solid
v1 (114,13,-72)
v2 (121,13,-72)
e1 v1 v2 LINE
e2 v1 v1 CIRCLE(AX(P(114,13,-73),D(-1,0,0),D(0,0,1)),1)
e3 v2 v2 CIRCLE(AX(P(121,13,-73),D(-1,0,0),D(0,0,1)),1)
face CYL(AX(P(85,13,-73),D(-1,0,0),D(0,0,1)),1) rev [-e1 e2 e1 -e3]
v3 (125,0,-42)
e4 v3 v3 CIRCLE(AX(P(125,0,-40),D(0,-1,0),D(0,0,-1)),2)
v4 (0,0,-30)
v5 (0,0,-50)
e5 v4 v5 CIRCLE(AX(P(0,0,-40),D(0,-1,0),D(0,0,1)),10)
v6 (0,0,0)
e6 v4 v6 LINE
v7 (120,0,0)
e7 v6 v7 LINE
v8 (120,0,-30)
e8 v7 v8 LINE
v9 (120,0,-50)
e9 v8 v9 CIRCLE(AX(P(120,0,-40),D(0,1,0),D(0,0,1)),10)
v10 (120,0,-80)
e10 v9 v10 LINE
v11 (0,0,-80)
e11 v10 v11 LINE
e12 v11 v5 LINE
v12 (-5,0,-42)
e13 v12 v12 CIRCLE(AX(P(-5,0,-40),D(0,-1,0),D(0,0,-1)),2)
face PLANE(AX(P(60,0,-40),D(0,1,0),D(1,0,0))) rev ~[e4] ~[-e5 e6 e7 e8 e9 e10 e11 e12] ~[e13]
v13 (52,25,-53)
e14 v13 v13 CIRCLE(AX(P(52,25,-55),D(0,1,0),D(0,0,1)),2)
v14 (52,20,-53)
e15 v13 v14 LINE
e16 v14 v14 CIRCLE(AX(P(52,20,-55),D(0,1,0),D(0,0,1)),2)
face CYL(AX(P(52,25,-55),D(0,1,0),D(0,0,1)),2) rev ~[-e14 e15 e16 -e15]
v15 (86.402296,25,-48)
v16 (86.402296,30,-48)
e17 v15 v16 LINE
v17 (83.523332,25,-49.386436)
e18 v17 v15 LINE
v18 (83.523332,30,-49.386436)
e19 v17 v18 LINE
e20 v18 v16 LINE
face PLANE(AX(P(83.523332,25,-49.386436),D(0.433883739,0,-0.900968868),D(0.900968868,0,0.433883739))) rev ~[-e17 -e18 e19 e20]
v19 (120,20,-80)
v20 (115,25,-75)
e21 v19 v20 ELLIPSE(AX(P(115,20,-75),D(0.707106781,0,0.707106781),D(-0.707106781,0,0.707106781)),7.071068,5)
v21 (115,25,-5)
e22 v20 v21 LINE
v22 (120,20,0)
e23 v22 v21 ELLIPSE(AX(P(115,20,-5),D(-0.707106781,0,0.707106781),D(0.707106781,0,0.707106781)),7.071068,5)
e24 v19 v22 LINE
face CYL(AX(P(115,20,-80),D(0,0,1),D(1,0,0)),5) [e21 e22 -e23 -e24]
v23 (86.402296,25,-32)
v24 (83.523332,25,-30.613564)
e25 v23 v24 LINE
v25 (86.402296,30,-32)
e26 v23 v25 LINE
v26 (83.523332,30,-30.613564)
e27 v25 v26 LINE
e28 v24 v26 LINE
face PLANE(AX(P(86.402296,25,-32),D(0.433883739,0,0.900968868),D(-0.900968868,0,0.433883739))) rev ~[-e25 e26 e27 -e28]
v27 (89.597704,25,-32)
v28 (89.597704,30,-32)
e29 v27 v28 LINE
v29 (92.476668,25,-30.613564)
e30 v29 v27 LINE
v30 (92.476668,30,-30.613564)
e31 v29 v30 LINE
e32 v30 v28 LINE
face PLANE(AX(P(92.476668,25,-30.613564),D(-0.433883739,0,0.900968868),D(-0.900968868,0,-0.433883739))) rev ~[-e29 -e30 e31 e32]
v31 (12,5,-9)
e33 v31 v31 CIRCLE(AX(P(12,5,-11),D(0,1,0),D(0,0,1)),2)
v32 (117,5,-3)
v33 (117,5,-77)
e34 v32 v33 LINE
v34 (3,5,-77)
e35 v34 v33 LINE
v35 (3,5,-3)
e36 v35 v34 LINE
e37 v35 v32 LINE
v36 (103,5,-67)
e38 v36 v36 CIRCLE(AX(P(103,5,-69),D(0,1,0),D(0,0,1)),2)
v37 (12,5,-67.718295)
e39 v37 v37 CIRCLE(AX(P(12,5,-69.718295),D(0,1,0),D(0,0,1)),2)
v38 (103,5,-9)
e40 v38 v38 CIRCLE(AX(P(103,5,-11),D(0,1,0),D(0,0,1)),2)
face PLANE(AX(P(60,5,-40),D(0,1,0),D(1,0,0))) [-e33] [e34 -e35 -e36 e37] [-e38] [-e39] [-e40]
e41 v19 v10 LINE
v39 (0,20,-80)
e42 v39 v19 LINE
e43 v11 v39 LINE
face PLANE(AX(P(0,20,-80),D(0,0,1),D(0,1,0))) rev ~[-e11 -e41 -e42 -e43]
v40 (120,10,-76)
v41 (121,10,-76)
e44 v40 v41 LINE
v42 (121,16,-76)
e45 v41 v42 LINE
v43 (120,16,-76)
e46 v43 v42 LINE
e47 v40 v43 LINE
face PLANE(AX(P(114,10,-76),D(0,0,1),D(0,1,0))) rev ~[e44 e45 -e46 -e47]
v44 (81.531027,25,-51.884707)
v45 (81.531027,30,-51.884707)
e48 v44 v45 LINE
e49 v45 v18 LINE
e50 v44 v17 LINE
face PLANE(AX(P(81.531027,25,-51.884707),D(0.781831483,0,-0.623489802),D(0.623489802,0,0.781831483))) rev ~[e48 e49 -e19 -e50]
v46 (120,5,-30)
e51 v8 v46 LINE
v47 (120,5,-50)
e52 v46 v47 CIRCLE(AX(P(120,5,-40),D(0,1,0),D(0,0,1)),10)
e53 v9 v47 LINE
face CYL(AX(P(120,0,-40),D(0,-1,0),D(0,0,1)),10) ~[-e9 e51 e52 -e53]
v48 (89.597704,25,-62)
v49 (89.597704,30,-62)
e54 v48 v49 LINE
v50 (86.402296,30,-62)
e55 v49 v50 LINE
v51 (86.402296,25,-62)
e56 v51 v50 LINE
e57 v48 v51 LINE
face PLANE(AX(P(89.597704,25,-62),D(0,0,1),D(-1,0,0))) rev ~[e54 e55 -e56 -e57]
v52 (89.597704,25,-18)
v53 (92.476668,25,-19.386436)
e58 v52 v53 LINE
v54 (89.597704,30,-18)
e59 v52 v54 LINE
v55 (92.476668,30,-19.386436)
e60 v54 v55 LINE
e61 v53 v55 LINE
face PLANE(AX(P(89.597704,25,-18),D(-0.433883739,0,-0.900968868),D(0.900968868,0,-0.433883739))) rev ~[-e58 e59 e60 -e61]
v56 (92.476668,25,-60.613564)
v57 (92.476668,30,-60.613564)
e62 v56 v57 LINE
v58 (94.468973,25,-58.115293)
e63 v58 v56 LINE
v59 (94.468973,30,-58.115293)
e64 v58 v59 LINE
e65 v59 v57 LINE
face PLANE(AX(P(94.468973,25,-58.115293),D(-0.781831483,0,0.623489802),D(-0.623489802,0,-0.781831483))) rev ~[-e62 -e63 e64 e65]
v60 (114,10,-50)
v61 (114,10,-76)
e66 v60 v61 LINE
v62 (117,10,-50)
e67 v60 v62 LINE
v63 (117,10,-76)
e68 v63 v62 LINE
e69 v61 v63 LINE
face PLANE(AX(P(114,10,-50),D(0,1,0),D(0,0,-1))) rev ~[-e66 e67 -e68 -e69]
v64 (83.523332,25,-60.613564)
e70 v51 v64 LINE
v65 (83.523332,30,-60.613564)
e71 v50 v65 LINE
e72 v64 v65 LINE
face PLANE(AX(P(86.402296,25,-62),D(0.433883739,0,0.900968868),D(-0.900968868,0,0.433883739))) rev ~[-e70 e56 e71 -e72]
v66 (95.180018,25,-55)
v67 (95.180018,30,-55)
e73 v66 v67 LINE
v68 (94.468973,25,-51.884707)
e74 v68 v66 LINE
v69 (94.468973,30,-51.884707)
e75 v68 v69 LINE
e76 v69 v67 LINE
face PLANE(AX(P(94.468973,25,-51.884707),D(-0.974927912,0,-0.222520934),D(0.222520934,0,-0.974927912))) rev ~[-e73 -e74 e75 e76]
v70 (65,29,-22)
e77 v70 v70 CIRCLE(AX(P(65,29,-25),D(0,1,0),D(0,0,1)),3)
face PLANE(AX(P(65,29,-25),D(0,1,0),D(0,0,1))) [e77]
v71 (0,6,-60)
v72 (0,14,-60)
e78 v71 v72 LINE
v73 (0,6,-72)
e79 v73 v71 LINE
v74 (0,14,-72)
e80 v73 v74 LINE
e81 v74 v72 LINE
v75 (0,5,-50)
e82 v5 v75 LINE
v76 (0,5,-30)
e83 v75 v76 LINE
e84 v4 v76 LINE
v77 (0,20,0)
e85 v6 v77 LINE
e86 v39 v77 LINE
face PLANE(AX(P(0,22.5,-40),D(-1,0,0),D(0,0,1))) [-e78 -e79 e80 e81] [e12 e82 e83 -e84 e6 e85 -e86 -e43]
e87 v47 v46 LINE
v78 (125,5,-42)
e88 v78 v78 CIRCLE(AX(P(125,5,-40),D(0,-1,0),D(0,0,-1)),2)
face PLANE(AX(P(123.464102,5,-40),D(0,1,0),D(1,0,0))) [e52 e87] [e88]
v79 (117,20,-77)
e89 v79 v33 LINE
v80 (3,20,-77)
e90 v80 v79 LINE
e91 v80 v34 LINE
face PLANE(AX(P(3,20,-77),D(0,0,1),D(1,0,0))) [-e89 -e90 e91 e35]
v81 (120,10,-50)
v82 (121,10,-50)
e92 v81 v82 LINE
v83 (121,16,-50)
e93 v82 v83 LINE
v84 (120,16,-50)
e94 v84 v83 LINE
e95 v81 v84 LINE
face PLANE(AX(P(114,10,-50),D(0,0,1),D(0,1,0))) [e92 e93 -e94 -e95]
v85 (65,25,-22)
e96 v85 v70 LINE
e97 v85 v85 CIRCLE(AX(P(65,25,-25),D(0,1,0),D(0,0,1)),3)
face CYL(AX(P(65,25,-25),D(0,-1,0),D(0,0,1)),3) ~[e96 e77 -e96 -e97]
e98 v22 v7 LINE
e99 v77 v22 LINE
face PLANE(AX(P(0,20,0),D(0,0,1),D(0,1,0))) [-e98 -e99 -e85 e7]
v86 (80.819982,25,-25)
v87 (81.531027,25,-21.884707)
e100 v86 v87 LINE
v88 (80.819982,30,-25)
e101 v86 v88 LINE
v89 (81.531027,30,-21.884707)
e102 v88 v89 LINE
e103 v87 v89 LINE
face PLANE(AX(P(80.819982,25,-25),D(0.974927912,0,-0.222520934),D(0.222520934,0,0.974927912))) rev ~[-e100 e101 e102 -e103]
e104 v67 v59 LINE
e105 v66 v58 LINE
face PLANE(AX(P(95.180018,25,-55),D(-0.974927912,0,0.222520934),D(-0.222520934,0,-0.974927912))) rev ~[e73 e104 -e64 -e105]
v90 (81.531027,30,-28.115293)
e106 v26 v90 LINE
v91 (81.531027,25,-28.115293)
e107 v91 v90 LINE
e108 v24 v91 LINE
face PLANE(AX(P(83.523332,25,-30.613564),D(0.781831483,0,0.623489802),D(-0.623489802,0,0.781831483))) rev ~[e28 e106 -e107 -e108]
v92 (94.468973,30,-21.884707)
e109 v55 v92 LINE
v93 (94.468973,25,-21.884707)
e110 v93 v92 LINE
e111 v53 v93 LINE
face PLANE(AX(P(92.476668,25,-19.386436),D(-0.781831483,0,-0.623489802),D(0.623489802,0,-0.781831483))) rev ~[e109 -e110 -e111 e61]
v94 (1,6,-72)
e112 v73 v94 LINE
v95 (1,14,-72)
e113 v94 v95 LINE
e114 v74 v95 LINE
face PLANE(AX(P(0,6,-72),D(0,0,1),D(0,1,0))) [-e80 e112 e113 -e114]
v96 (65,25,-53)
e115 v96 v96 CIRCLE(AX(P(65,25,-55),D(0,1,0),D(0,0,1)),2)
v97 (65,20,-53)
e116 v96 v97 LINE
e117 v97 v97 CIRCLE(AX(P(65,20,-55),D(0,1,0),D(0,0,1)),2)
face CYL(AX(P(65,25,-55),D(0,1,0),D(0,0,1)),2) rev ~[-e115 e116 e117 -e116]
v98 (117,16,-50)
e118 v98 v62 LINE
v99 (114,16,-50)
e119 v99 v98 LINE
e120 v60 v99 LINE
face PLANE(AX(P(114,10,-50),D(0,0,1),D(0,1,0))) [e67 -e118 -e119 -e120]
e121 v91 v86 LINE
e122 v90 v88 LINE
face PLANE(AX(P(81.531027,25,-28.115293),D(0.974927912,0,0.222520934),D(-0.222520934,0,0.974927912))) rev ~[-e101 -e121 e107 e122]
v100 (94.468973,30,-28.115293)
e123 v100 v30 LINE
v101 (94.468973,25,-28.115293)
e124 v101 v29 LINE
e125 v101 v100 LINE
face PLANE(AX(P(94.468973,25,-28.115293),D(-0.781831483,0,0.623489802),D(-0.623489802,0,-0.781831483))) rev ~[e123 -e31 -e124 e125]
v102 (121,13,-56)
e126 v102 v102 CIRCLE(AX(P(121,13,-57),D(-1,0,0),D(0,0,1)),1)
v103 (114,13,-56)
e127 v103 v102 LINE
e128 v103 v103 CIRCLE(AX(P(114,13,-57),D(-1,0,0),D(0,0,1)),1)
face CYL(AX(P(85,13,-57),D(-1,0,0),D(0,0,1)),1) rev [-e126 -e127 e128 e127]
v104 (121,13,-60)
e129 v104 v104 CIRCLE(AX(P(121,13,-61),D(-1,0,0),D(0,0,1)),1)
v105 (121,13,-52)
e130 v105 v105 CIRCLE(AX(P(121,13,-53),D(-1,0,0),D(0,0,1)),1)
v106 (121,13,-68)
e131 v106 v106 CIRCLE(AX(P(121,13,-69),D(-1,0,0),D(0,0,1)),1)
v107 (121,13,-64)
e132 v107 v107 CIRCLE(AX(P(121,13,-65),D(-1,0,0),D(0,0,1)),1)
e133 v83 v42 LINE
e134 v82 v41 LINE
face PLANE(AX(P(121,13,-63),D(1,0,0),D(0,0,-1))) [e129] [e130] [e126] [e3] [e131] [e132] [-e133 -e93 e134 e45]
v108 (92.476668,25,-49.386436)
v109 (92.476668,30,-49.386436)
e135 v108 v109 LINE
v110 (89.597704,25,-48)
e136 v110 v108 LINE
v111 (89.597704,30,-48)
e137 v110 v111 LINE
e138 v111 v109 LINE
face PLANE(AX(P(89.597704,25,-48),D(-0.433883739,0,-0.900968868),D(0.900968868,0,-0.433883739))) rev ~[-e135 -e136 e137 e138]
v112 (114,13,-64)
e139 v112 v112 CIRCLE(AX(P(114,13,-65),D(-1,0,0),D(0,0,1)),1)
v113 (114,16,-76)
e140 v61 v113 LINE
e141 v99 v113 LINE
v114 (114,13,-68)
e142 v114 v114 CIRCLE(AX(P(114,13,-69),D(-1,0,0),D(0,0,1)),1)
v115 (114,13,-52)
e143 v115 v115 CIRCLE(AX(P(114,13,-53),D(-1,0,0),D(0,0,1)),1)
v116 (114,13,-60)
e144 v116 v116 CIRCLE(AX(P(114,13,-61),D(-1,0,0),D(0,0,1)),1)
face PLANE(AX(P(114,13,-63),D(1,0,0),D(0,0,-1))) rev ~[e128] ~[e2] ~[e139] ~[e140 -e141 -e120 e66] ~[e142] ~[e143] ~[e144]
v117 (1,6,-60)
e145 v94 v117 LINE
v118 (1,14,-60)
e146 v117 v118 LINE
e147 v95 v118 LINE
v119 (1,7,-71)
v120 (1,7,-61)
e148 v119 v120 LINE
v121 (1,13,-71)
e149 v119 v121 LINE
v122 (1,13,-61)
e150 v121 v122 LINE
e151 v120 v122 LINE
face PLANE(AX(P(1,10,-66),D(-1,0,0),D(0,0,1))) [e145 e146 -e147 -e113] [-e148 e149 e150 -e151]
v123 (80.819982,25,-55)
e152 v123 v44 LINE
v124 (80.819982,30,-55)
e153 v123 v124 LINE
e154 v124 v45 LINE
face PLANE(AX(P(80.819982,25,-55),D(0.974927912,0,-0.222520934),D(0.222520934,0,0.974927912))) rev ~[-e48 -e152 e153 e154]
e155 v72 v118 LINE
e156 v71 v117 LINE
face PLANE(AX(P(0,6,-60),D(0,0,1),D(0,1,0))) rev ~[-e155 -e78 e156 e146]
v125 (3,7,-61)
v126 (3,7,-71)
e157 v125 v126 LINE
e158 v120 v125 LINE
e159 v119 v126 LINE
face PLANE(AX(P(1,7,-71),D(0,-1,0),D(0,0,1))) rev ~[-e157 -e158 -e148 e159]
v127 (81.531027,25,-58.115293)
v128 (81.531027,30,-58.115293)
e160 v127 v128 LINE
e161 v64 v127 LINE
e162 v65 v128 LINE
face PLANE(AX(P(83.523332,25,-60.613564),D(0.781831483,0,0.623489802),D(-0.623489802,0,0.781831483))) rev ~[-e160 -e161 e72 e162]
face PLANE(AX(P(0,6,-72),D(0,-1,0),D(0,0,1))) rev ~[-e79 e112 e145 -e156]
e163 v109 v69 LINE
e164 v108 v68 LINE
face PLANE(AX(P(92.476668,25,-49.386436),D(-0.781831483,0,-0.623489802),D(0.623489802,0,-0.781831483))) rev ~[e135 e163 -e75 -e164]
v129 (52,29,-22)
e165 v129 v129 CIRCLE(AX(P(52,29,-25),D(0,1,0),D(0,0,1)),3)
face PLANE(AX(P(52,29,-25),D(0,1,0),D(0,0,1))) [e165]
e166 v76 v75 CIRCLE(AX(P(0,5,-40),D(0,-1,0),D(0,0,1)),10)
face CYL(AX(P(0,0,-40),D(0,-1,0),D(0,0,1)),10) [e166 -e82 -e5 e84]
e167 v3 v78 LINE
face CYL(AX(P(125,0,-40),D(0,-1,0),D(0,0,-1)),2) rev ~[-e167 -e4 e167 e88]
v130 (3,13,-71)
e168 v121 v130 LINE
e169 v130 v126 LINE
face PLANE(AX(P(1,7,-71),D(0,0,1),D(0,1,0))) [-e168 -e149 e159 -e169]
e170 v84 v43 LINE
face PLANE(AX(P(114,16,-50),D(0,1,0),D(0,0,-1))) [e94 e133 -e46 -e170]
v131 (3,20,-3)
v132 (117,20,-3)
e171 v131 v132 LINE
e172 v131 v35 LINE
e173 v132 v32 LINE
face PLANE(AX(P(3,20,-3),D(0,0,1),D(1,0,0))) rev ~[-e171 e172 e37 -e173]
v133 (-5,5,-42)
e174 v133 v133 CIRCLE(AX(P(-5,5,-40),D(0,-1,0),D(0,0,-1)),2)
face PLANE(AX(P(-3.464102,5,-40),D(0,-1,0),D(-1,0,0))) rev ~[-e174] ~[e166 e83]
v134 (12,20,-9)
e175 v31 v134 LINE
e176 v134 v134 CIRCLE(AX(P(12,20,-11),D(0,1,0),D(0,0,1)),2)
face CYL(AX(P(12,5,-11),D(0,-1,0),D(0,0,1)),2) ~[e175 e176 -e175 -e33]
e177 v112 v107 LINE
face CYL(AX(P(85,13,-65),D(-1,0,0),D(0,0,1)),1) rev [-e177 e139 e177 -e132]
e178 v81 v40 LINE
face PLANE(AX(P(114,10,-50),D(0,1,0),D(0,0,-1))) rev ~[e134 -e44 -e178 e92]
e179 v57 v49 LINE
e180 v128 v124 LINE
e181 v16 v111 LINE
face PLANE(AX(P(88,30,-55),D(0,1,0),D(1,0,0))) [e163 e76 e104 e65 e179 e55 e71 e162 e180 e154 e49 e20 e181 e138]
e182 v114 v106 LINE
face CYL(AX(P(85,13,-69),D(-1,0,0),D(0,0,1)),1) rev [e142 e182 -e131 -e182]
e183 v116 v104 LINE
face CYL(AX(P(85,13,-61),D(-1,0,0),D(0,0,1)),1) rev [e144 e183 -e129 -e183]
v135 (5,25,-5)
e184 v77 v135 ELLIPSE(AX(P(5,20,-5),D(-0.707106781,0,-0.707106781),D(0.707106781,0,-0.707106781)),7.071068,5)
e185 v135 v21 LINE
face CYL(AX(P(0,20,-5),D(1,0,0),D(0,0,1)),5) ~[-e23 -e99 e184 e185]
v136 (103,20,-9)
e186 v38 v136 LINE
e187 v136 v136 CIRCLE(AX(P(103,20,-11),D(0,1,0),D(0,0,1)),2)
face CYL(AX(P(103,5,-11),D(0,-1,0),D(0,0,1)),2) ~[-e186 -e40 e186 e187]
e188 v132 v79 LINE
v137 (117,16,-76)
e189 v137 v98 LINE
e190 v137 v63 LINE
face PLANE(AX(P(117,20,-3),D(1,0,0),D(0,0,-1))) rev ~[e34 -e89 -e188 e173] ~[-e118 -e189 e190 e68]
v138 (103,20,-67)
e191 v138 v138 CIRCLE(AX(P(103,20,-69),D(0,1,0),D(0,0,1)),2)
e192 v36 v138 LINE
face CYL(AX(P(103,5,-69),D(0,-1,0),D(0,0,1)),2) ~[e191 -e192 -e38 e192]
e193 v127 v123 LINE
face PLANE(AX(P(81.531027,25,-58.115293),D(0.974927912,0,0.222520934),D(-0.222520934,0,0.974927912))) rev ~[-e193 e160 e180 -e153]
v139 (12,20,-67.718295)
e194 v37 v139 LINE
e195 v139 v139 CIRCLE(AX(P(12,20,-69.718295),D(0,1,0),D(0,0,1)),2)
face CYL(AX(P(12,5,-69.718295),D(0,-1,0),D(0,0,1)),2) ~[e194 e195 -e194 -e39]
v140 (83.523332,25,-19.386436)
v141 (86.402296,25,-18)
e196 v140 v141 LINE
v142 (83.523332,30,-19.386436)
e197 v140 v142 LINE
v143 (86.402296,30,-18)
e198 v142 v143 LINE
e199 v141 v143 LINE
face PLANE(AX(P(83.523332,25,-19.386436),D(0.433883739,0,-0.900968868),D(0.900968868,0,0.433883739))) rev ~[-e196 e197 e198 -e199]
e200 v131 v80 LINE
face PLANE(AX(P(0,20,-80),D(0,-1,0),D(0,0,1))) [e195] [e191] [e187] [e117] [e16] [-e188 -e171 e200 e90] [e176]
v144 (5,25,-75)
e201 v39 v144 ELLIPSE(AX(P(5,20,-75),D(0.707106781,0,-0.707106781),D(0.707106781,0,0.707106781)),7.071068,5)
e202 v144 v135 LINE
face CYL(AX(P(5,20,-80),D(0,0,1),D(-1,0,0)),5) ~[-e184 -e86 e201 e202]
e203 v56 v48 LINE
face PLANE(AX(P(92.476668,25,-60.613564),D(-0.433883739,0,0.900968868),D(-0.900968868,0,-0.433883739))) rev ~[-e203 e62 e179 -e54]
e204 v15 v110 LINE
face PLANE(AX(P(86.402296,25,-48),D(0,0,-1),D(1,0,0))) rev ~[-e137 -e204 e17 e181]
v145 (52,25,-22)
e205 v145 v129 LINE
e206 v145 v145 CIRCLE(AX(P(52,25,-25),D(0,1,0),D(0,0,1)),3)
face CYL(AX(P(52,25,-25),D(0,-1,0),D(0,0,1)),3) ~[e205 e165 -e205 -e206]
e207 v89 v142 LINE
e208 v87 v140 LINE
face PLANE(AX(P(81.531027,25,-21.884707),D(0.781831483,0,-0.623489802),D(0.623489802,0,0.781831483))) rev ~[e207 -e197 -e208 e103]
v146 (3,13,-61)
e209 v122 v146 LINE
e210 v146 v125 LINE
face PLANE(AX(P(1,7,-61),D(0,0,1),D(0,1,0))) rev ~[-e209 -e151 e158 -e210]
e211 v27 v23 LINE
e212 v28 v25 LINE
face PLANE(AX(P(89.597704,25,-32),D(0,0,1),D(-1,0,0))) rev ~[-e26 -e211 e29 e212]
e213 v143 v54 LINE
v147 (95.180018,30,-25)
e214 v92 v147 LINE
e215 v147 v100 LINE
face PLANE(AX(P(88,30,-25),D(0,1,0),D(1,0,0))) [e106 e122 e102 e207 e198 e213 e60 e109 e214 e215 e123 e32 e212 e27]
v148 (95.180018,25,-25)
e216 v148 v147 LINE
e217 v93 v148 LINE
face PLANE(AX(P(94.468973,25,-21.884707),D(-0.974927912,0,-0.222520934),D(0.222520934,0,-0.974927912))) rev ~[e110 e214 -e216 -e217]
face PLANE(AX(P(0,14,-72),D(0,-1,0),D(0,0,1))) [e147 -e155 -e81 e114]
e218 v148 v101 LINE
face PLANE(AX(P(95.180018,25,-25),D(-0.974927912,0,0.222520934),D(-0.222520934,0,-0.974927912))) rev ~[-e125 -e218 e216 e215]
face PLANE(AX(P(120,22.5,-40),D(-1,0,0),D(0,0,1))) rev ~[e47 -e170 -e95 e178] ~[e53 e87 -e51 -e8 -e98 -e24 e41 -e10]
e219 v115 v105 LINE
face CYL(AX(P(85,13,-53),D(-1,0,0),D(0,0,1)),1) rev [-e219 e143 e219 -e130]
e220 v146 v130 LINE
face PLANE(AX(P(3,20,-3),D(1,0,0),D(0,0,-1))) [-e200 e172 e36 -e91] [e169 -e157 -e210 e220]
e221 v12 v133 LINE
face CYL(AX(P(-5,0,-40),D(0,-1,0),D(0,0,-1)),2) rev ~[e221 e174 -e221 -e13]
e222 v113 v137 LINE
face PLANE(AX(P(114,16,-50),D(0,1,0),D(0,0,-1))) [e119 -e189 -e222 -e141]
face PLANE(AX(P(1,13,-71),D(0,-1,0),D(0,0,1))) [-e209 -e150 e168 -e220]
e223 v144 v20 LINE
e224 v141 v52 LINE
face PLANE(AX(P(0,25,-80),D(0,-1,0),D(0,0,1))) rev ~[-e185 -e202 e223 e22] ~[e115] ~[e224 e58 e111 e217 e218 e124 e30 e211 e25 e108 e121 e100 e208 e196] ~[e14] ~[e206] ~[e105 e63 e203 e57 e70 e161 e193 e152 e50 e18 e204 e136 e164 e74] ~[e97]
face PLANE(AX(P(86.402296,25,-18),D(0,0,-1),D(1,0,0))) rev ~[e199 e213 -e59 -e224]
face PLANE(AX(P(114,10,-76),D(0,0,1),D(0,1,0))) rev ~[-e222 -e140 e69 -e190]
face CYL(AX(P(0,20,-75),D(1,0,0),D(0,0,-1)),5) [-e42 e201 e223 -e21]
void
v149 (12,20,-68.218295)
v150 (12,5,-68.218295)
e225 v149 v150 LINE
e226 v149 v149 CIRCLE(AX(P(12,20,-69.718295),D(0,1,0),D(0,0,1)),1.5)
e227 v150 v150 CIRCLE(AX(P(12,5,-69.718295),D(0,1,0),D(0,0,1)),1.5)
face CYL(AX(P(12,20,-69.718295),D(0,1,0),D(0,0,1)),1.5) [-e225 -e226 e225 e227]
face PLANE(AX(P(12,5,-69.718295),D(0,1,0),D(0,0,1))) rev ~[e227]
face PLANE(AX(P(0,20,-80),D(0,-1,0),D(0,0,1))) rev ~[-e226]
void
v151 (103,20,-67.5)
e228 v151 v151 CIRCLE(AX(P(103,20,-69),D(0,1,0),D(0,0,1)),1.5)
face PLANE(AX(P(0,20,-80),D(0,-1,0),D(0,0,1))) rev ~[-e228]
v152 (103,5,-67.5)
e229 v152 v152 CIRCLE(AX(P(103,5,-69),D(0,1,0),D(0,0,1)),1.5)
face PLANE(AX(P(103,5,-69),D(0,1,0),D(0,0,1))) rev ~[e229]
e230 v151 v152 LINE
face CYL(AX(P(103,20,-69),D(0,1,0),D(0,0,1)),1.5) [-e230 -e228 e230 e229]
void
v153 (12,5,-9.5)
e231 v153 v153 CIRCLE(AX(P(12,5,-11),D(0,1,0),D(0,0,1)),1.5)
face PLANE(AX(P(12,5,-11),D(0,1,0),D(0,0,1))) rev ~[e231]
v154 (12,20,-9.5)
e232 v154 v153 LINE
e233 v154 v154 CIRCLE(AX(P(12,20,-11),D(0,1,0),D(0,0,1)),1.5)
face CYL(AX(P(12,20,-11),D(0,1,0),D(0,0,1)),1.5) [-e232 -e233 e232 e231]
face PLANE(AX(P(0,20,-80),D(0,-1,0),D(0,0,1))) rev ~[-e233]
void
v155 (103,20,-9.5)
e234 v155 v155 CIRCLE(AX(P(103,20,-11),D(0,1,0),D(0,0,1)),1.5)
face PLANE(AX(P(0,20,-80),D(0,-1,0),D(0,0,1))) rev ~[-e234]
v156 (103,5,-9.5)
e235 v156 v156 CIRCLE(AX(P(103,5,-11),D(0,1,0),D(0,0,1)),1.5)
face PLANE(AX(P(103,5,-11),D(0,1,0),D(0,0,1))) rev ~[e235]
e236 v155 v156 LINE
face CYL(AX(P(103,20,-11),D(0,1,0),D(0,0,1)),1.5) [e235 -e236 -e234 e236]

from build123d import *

# Parameters (mm, degrees)
BOSS_EXTRUDE2_DEPTH      = 20
CUT_EXTRUDE1_START       = -15
CUT_EXTRUDE1_DEPTH       = 15
SKETCH4_W                = 114
SKETCH4_H                = 74
CUT_EXTRUDE2_DEPTH       = 15
SKETCH5_R                = 2
CUT_EXTRUDE3_DEPTH       = 154.948043183
BOSS_EXTRUDE3_DEPTH      = 1
BOSS_EXTRUDE3_DEPTH_BACK = 6
SKETCH8_W                = 26
SKETCH8_H                = 6
CUT_EXTRUDE4_DEPTH       = 2
CUT_EXTRUDE4_DEPTH_BACK  = 35
SKETCH6_R                = 1
SKETCH10_R               = 2
BOSS_EXTRUDE4_DEPTH      = 15
SKETCH11_R               = 1.5
CUT_EXTRUDE5_DEPTH       = 15
SKETCH12_W               = 80
SKETCH12_H               = 5
BOSS_EXTRUDE5_DEPTH      = 120
FILLET1_R                = 5
BOSS_EXTRUDE6_DEPTH      = 5
SKETCH14_R               = 3
BOSS_EXTRUDE7_DEPTH      = 4
SKETCH15_R               = 2
CUT_EXTRUDE6_DEPTH       = 10
SKETCH16_W               = 12
SKETCH16_H               = 8
CUT_EXTRUDE7_DEPTH       = 1
SKETCH17_W               = 10
SKETCH17_H               = 6
CUT_EXTRUDE8_DEPTH       = 4


with BuildPart() as part:
    # Sketch2 → Boss-Extrude2 (new body)
    with BuildSketch(Plane(origin=(0, 0, 0), x_dir=(1, 0, 0), z_dir=(0, 1, 0))):
        Polygon((0, 80), (0, 50), (0, 30), (0, 0), (120, 0), (120, 30), (120, 50), (120, 80), align=None)
        with BuildLine():
            ThreePointArc((0, 30), (-10, 40), (0, 50))
            Line((0, 50), (0, 30))
        make_face()
        with BuildLine():
            ThreePointArc((120, 30), (130, 40), (120, 50))
            Line((120, 50), (120, 30))
        make_face()
    extrude(amount=BOSS_EXTRUDE2_DEPTH)

    # Sketch3 → Cut-Extrude1 (cut)
    with BuildSketch(Plane(origin=(0, 20, 0), x_dir=(1, 0, 0), z_dir=(0, 1, 0)).offset(CUT_EXTRUDE1_START)):
        with BuildLine():
            Line((0, 50), (0, 30))
            ThreePointArc((0, 30), (-10, 40), (0, 50))
        make_face()
        with BuildLine():
            Line((120, 50), (120, 30))
            ThreePointArc((120, 30), (130, 40), (120, 50))
        make_face()
    extrude(amount=CUT_EXTRUDE1_DEPTH, mode=Mode.SUBTRACT)

    # Sketch4 → Cut-Extrude2 (cut)
    with BuildSketch(Plane(origin=(0, 20, 0), x_dir=(1, 0, 0), z_dir=(0, 1, 0))):
        with Locations((60, 40)):
            Rectangle(SKETCH4_W, SKETCH4_H)
    extrude(amount=-CUT_EXTRUDE2_DEPTH, mode=Mode.SUBTRACT)

    # Sketch5 → Cut-Extrude3 (cut, through all)
    with BuildSketch(Plane.XZ):
        with Locations(Location((-5, -40, 0), (0, 0, 270))):
            Circle(SKETCH5_R)
        with Locations(Location((125, -40, 0), (0, 0, 270))):
            Circle(SKETCH5_R)
    extrude(amount=-CUT_EXTRUDE3_DEPTH, mode=Mode.SUBTRACT)

    # Sketch8 → Boss-Extrude3 (add, two sides: drawn at the far end of the back side and taken through both)
    with BuildSketch(Plane(origin=(120, 0, 0), x_dir=(0, 0, -1), z_dir=(1, 0, 0)).offset(-BOSS_EXTRUDE3_DEPTH_BACK)):
        with Locations((63, 13)):
            Rectangle(SKETCH8_W, SKETCH8_H)
    extrude(amount=BOSS_EXTRUDE3_DEPTH + BOSS_EXTRUDE3_DEPTH_BACK)

    # Sketch6 → Cut-Extrude4 (cut, two sides: drawn at the far end of the back side and taken through both)
    with BuildSketch(Plane(origin=(120, 0, 0), x_dir=(0, 0, -1), z_dir=(1, 0, 0)).offset(-CUT_EXTRUDE4_DEPTH_BACK)):
        with Locations(Location((73, 13, 0), (0, 0, 180))):
            Circle(SKETCH6_R)
        with Locations(Location((57, 13, 0), (0, 0, 180))):
            Circle(SKETCH6_R)
        with Locations(Location((53, 13, 0), (0, 0, 180))):
            Circle(SKETCH6_R)
        with Locations(Location((65, 13, 0), (0, 0, 180))):
            Circle(SKETCH6_R)
        with Locations(Location((61, 13, 0), (0, 0, 180))):
            Circle(SKETCH6_R)
        with Locations(Location((69, 13, 0), (0, 0, 180))):
            Circle(SKETCH6_R)
    extrude(amount=CUT_EXTRUDE4_DEPTH + CUT_EXTRUDE4_DEPTH_BACK, mode=Mode.SUBTRACT)

    # Sketch10 → Boss-Extrude4 (add)
    with BuildSketch(Plane(origin=(0, 5, 0), x_dir=(1, 0, 0), z_dir=(0, 1, 0))):
        with Locations(Location((12, 69.718295326, 0), (0, 0, 270))):
            Circle(SKETCH10_R)
        with Locations(Location((12, 11, 0), (0, 0, 270))):
            Circle(SKETCH10_R)
        with Locations(Location((103, 69, 0), (0, 0, 270))):
            Circle(SKETCH10_R)
        with Locations(Location((103, 11, 0), (0, 0, 270))):
            Circle(SKETCH10_R)
    extrude(amount=BOSS_EXTRUDE4_DEPTH)

    # Sketch11 → Cut-Extrude5 (cut)
    with BuildSketch(Plane(origin=(0, 20, 0), x_dir=(1, 0, 0), z_dir=(0, 1, 0))):
        with Locations(Location((12, 69.718295326, 0), (0, 0, 270))):
            Circle(SKETCH11_R)
        with Locations(Location((103, 69, 0), (0, 0, 270))):
            Circle(SKETCH11_R)
        with Locations(Location((12, 11, 0), (0, 0, 270))):
            Circle(SKETCH11_R)
        with Locations(Location((103, 11, 0), (0, 0, 270))):
            Circle(SKETCH11_R)
    extrude(amount=-CUT_EXTRUDE5_DEPTH, mode=Mode.SUBTRACT)

    # Sketch12 → Boss-Extrude5 (add)
    with BuildSketch(Plane.ZY):
        with Locations((-40, 22.5)):
            Rectangle(SKETCH12_W, SKETCH12_H)
    extrude(amount=-BOSS_EXTRUDE5_DEPTH)

    # Fillet1
    fillet1_edges = [part.edges().sort_by_distance(p)[0] for p in [
        (120, 25, -40),
        (60, 25, -80),
        (60, 25, 0),
        (0, 25, -40),
    ]]
    fillet(fillet1_edges, radius=FILLET1_R)

    # Sketch13 → Boss-Extrude6 (add)
    with BuildSketch(Plane(origin=(0, 25, 0), x_dir=(1, 0, 0), z_dir=(0, 1, 0))):
        Polygon((81.531027272, 58.115293075), (80.819981957, 55), (81.531027272, 51.884706925), (83.523331973, 49.386435849), (86.402295679, 48), (89.597704321, 48), (92.476668027, 49.386435849), (94.468972728, 51.884706925), (95.180018043, 55), (94.468972728, 58.115293075), (92.476668027, 60.613564151), (89.597704321, 62), (86.402295679, 62), (83.523331973, 60.613564151), align=None)
        Polygon((95.180018043, 25), (94.468972728, 28.115293075), (92.476668027, 30.613564151), (89.597704321, 32), (86.402295679, 32), (83.523331973, 30.613564151), (81.531027272, 28.115293075), (80.819981957, 25), (81.531027272, 21.884706925), (83.523331973, 19.386435849), (86.402295679, 18), (89.597704321, 18), (92.476668027, 19.386435849), (94.468972728, 21.884706925), align=None)
    extrude(amount=BOSS_EXTRUDE6_DEPTH)

    # Sketch14 → Boss-Extrude7 (add)
    with BuildSketch(Plane(origin=(0, 25, 0), x_dir=(1, 0, 0), z_dir=(0, 1, 0))):
        with Locations(Location((52, 25, 0), (0, 0, 270))):
            Circle(SKETCH14_R)
        with Locations(Location((65, 25, 0), (0, 0, 270))):
            Circle(SKETCH14_R)
    extrude(amount=BOSS_EXTRUDE7_DEPTH)

    # Sketch15 → Cut-Extrude6 (cut)
    with BuildSketch(Plane(origin=(0, 25, 0), x_dir=(1, 0, 0), z_dir=(0, 1, 0))):
        with Locations(Location((52, 55, 0), (0, 0, 270))):
            Circle(SKETCH15_R)
        with Locations(Location((65, 55, 0), (0, 0, 270))):
            Circle(SKETCH15_R)
    extrude(amount=-CUT_EXTRUDE6_DEPTH, mode=Mode.SUBTRACT)

    # Sketch16 → Cut-Extrude7 (cut)
    with BuildSketch(Plane.ZY):
        with Locations((-66, 10)):
            Rectangle(SKETCH16_W, SKETCH16_H)
    extrude(amount=-CUT_EXTRUDE7_DEPTH, mode=Mode.SUBTRACT)

    # Sketch17 → Cut-Extrude8 (cut)
    with BuildSketch(Plane.ZY.offset(-1)):
        with Locations((-66, 10)):
            Rectangle(SKETCH17_W, SKETCH17_H)
    extrude(amount=-CUT_EXTRUDE8_DEPTH, mode=Mode.SUBTRACT)


solid = part.part
